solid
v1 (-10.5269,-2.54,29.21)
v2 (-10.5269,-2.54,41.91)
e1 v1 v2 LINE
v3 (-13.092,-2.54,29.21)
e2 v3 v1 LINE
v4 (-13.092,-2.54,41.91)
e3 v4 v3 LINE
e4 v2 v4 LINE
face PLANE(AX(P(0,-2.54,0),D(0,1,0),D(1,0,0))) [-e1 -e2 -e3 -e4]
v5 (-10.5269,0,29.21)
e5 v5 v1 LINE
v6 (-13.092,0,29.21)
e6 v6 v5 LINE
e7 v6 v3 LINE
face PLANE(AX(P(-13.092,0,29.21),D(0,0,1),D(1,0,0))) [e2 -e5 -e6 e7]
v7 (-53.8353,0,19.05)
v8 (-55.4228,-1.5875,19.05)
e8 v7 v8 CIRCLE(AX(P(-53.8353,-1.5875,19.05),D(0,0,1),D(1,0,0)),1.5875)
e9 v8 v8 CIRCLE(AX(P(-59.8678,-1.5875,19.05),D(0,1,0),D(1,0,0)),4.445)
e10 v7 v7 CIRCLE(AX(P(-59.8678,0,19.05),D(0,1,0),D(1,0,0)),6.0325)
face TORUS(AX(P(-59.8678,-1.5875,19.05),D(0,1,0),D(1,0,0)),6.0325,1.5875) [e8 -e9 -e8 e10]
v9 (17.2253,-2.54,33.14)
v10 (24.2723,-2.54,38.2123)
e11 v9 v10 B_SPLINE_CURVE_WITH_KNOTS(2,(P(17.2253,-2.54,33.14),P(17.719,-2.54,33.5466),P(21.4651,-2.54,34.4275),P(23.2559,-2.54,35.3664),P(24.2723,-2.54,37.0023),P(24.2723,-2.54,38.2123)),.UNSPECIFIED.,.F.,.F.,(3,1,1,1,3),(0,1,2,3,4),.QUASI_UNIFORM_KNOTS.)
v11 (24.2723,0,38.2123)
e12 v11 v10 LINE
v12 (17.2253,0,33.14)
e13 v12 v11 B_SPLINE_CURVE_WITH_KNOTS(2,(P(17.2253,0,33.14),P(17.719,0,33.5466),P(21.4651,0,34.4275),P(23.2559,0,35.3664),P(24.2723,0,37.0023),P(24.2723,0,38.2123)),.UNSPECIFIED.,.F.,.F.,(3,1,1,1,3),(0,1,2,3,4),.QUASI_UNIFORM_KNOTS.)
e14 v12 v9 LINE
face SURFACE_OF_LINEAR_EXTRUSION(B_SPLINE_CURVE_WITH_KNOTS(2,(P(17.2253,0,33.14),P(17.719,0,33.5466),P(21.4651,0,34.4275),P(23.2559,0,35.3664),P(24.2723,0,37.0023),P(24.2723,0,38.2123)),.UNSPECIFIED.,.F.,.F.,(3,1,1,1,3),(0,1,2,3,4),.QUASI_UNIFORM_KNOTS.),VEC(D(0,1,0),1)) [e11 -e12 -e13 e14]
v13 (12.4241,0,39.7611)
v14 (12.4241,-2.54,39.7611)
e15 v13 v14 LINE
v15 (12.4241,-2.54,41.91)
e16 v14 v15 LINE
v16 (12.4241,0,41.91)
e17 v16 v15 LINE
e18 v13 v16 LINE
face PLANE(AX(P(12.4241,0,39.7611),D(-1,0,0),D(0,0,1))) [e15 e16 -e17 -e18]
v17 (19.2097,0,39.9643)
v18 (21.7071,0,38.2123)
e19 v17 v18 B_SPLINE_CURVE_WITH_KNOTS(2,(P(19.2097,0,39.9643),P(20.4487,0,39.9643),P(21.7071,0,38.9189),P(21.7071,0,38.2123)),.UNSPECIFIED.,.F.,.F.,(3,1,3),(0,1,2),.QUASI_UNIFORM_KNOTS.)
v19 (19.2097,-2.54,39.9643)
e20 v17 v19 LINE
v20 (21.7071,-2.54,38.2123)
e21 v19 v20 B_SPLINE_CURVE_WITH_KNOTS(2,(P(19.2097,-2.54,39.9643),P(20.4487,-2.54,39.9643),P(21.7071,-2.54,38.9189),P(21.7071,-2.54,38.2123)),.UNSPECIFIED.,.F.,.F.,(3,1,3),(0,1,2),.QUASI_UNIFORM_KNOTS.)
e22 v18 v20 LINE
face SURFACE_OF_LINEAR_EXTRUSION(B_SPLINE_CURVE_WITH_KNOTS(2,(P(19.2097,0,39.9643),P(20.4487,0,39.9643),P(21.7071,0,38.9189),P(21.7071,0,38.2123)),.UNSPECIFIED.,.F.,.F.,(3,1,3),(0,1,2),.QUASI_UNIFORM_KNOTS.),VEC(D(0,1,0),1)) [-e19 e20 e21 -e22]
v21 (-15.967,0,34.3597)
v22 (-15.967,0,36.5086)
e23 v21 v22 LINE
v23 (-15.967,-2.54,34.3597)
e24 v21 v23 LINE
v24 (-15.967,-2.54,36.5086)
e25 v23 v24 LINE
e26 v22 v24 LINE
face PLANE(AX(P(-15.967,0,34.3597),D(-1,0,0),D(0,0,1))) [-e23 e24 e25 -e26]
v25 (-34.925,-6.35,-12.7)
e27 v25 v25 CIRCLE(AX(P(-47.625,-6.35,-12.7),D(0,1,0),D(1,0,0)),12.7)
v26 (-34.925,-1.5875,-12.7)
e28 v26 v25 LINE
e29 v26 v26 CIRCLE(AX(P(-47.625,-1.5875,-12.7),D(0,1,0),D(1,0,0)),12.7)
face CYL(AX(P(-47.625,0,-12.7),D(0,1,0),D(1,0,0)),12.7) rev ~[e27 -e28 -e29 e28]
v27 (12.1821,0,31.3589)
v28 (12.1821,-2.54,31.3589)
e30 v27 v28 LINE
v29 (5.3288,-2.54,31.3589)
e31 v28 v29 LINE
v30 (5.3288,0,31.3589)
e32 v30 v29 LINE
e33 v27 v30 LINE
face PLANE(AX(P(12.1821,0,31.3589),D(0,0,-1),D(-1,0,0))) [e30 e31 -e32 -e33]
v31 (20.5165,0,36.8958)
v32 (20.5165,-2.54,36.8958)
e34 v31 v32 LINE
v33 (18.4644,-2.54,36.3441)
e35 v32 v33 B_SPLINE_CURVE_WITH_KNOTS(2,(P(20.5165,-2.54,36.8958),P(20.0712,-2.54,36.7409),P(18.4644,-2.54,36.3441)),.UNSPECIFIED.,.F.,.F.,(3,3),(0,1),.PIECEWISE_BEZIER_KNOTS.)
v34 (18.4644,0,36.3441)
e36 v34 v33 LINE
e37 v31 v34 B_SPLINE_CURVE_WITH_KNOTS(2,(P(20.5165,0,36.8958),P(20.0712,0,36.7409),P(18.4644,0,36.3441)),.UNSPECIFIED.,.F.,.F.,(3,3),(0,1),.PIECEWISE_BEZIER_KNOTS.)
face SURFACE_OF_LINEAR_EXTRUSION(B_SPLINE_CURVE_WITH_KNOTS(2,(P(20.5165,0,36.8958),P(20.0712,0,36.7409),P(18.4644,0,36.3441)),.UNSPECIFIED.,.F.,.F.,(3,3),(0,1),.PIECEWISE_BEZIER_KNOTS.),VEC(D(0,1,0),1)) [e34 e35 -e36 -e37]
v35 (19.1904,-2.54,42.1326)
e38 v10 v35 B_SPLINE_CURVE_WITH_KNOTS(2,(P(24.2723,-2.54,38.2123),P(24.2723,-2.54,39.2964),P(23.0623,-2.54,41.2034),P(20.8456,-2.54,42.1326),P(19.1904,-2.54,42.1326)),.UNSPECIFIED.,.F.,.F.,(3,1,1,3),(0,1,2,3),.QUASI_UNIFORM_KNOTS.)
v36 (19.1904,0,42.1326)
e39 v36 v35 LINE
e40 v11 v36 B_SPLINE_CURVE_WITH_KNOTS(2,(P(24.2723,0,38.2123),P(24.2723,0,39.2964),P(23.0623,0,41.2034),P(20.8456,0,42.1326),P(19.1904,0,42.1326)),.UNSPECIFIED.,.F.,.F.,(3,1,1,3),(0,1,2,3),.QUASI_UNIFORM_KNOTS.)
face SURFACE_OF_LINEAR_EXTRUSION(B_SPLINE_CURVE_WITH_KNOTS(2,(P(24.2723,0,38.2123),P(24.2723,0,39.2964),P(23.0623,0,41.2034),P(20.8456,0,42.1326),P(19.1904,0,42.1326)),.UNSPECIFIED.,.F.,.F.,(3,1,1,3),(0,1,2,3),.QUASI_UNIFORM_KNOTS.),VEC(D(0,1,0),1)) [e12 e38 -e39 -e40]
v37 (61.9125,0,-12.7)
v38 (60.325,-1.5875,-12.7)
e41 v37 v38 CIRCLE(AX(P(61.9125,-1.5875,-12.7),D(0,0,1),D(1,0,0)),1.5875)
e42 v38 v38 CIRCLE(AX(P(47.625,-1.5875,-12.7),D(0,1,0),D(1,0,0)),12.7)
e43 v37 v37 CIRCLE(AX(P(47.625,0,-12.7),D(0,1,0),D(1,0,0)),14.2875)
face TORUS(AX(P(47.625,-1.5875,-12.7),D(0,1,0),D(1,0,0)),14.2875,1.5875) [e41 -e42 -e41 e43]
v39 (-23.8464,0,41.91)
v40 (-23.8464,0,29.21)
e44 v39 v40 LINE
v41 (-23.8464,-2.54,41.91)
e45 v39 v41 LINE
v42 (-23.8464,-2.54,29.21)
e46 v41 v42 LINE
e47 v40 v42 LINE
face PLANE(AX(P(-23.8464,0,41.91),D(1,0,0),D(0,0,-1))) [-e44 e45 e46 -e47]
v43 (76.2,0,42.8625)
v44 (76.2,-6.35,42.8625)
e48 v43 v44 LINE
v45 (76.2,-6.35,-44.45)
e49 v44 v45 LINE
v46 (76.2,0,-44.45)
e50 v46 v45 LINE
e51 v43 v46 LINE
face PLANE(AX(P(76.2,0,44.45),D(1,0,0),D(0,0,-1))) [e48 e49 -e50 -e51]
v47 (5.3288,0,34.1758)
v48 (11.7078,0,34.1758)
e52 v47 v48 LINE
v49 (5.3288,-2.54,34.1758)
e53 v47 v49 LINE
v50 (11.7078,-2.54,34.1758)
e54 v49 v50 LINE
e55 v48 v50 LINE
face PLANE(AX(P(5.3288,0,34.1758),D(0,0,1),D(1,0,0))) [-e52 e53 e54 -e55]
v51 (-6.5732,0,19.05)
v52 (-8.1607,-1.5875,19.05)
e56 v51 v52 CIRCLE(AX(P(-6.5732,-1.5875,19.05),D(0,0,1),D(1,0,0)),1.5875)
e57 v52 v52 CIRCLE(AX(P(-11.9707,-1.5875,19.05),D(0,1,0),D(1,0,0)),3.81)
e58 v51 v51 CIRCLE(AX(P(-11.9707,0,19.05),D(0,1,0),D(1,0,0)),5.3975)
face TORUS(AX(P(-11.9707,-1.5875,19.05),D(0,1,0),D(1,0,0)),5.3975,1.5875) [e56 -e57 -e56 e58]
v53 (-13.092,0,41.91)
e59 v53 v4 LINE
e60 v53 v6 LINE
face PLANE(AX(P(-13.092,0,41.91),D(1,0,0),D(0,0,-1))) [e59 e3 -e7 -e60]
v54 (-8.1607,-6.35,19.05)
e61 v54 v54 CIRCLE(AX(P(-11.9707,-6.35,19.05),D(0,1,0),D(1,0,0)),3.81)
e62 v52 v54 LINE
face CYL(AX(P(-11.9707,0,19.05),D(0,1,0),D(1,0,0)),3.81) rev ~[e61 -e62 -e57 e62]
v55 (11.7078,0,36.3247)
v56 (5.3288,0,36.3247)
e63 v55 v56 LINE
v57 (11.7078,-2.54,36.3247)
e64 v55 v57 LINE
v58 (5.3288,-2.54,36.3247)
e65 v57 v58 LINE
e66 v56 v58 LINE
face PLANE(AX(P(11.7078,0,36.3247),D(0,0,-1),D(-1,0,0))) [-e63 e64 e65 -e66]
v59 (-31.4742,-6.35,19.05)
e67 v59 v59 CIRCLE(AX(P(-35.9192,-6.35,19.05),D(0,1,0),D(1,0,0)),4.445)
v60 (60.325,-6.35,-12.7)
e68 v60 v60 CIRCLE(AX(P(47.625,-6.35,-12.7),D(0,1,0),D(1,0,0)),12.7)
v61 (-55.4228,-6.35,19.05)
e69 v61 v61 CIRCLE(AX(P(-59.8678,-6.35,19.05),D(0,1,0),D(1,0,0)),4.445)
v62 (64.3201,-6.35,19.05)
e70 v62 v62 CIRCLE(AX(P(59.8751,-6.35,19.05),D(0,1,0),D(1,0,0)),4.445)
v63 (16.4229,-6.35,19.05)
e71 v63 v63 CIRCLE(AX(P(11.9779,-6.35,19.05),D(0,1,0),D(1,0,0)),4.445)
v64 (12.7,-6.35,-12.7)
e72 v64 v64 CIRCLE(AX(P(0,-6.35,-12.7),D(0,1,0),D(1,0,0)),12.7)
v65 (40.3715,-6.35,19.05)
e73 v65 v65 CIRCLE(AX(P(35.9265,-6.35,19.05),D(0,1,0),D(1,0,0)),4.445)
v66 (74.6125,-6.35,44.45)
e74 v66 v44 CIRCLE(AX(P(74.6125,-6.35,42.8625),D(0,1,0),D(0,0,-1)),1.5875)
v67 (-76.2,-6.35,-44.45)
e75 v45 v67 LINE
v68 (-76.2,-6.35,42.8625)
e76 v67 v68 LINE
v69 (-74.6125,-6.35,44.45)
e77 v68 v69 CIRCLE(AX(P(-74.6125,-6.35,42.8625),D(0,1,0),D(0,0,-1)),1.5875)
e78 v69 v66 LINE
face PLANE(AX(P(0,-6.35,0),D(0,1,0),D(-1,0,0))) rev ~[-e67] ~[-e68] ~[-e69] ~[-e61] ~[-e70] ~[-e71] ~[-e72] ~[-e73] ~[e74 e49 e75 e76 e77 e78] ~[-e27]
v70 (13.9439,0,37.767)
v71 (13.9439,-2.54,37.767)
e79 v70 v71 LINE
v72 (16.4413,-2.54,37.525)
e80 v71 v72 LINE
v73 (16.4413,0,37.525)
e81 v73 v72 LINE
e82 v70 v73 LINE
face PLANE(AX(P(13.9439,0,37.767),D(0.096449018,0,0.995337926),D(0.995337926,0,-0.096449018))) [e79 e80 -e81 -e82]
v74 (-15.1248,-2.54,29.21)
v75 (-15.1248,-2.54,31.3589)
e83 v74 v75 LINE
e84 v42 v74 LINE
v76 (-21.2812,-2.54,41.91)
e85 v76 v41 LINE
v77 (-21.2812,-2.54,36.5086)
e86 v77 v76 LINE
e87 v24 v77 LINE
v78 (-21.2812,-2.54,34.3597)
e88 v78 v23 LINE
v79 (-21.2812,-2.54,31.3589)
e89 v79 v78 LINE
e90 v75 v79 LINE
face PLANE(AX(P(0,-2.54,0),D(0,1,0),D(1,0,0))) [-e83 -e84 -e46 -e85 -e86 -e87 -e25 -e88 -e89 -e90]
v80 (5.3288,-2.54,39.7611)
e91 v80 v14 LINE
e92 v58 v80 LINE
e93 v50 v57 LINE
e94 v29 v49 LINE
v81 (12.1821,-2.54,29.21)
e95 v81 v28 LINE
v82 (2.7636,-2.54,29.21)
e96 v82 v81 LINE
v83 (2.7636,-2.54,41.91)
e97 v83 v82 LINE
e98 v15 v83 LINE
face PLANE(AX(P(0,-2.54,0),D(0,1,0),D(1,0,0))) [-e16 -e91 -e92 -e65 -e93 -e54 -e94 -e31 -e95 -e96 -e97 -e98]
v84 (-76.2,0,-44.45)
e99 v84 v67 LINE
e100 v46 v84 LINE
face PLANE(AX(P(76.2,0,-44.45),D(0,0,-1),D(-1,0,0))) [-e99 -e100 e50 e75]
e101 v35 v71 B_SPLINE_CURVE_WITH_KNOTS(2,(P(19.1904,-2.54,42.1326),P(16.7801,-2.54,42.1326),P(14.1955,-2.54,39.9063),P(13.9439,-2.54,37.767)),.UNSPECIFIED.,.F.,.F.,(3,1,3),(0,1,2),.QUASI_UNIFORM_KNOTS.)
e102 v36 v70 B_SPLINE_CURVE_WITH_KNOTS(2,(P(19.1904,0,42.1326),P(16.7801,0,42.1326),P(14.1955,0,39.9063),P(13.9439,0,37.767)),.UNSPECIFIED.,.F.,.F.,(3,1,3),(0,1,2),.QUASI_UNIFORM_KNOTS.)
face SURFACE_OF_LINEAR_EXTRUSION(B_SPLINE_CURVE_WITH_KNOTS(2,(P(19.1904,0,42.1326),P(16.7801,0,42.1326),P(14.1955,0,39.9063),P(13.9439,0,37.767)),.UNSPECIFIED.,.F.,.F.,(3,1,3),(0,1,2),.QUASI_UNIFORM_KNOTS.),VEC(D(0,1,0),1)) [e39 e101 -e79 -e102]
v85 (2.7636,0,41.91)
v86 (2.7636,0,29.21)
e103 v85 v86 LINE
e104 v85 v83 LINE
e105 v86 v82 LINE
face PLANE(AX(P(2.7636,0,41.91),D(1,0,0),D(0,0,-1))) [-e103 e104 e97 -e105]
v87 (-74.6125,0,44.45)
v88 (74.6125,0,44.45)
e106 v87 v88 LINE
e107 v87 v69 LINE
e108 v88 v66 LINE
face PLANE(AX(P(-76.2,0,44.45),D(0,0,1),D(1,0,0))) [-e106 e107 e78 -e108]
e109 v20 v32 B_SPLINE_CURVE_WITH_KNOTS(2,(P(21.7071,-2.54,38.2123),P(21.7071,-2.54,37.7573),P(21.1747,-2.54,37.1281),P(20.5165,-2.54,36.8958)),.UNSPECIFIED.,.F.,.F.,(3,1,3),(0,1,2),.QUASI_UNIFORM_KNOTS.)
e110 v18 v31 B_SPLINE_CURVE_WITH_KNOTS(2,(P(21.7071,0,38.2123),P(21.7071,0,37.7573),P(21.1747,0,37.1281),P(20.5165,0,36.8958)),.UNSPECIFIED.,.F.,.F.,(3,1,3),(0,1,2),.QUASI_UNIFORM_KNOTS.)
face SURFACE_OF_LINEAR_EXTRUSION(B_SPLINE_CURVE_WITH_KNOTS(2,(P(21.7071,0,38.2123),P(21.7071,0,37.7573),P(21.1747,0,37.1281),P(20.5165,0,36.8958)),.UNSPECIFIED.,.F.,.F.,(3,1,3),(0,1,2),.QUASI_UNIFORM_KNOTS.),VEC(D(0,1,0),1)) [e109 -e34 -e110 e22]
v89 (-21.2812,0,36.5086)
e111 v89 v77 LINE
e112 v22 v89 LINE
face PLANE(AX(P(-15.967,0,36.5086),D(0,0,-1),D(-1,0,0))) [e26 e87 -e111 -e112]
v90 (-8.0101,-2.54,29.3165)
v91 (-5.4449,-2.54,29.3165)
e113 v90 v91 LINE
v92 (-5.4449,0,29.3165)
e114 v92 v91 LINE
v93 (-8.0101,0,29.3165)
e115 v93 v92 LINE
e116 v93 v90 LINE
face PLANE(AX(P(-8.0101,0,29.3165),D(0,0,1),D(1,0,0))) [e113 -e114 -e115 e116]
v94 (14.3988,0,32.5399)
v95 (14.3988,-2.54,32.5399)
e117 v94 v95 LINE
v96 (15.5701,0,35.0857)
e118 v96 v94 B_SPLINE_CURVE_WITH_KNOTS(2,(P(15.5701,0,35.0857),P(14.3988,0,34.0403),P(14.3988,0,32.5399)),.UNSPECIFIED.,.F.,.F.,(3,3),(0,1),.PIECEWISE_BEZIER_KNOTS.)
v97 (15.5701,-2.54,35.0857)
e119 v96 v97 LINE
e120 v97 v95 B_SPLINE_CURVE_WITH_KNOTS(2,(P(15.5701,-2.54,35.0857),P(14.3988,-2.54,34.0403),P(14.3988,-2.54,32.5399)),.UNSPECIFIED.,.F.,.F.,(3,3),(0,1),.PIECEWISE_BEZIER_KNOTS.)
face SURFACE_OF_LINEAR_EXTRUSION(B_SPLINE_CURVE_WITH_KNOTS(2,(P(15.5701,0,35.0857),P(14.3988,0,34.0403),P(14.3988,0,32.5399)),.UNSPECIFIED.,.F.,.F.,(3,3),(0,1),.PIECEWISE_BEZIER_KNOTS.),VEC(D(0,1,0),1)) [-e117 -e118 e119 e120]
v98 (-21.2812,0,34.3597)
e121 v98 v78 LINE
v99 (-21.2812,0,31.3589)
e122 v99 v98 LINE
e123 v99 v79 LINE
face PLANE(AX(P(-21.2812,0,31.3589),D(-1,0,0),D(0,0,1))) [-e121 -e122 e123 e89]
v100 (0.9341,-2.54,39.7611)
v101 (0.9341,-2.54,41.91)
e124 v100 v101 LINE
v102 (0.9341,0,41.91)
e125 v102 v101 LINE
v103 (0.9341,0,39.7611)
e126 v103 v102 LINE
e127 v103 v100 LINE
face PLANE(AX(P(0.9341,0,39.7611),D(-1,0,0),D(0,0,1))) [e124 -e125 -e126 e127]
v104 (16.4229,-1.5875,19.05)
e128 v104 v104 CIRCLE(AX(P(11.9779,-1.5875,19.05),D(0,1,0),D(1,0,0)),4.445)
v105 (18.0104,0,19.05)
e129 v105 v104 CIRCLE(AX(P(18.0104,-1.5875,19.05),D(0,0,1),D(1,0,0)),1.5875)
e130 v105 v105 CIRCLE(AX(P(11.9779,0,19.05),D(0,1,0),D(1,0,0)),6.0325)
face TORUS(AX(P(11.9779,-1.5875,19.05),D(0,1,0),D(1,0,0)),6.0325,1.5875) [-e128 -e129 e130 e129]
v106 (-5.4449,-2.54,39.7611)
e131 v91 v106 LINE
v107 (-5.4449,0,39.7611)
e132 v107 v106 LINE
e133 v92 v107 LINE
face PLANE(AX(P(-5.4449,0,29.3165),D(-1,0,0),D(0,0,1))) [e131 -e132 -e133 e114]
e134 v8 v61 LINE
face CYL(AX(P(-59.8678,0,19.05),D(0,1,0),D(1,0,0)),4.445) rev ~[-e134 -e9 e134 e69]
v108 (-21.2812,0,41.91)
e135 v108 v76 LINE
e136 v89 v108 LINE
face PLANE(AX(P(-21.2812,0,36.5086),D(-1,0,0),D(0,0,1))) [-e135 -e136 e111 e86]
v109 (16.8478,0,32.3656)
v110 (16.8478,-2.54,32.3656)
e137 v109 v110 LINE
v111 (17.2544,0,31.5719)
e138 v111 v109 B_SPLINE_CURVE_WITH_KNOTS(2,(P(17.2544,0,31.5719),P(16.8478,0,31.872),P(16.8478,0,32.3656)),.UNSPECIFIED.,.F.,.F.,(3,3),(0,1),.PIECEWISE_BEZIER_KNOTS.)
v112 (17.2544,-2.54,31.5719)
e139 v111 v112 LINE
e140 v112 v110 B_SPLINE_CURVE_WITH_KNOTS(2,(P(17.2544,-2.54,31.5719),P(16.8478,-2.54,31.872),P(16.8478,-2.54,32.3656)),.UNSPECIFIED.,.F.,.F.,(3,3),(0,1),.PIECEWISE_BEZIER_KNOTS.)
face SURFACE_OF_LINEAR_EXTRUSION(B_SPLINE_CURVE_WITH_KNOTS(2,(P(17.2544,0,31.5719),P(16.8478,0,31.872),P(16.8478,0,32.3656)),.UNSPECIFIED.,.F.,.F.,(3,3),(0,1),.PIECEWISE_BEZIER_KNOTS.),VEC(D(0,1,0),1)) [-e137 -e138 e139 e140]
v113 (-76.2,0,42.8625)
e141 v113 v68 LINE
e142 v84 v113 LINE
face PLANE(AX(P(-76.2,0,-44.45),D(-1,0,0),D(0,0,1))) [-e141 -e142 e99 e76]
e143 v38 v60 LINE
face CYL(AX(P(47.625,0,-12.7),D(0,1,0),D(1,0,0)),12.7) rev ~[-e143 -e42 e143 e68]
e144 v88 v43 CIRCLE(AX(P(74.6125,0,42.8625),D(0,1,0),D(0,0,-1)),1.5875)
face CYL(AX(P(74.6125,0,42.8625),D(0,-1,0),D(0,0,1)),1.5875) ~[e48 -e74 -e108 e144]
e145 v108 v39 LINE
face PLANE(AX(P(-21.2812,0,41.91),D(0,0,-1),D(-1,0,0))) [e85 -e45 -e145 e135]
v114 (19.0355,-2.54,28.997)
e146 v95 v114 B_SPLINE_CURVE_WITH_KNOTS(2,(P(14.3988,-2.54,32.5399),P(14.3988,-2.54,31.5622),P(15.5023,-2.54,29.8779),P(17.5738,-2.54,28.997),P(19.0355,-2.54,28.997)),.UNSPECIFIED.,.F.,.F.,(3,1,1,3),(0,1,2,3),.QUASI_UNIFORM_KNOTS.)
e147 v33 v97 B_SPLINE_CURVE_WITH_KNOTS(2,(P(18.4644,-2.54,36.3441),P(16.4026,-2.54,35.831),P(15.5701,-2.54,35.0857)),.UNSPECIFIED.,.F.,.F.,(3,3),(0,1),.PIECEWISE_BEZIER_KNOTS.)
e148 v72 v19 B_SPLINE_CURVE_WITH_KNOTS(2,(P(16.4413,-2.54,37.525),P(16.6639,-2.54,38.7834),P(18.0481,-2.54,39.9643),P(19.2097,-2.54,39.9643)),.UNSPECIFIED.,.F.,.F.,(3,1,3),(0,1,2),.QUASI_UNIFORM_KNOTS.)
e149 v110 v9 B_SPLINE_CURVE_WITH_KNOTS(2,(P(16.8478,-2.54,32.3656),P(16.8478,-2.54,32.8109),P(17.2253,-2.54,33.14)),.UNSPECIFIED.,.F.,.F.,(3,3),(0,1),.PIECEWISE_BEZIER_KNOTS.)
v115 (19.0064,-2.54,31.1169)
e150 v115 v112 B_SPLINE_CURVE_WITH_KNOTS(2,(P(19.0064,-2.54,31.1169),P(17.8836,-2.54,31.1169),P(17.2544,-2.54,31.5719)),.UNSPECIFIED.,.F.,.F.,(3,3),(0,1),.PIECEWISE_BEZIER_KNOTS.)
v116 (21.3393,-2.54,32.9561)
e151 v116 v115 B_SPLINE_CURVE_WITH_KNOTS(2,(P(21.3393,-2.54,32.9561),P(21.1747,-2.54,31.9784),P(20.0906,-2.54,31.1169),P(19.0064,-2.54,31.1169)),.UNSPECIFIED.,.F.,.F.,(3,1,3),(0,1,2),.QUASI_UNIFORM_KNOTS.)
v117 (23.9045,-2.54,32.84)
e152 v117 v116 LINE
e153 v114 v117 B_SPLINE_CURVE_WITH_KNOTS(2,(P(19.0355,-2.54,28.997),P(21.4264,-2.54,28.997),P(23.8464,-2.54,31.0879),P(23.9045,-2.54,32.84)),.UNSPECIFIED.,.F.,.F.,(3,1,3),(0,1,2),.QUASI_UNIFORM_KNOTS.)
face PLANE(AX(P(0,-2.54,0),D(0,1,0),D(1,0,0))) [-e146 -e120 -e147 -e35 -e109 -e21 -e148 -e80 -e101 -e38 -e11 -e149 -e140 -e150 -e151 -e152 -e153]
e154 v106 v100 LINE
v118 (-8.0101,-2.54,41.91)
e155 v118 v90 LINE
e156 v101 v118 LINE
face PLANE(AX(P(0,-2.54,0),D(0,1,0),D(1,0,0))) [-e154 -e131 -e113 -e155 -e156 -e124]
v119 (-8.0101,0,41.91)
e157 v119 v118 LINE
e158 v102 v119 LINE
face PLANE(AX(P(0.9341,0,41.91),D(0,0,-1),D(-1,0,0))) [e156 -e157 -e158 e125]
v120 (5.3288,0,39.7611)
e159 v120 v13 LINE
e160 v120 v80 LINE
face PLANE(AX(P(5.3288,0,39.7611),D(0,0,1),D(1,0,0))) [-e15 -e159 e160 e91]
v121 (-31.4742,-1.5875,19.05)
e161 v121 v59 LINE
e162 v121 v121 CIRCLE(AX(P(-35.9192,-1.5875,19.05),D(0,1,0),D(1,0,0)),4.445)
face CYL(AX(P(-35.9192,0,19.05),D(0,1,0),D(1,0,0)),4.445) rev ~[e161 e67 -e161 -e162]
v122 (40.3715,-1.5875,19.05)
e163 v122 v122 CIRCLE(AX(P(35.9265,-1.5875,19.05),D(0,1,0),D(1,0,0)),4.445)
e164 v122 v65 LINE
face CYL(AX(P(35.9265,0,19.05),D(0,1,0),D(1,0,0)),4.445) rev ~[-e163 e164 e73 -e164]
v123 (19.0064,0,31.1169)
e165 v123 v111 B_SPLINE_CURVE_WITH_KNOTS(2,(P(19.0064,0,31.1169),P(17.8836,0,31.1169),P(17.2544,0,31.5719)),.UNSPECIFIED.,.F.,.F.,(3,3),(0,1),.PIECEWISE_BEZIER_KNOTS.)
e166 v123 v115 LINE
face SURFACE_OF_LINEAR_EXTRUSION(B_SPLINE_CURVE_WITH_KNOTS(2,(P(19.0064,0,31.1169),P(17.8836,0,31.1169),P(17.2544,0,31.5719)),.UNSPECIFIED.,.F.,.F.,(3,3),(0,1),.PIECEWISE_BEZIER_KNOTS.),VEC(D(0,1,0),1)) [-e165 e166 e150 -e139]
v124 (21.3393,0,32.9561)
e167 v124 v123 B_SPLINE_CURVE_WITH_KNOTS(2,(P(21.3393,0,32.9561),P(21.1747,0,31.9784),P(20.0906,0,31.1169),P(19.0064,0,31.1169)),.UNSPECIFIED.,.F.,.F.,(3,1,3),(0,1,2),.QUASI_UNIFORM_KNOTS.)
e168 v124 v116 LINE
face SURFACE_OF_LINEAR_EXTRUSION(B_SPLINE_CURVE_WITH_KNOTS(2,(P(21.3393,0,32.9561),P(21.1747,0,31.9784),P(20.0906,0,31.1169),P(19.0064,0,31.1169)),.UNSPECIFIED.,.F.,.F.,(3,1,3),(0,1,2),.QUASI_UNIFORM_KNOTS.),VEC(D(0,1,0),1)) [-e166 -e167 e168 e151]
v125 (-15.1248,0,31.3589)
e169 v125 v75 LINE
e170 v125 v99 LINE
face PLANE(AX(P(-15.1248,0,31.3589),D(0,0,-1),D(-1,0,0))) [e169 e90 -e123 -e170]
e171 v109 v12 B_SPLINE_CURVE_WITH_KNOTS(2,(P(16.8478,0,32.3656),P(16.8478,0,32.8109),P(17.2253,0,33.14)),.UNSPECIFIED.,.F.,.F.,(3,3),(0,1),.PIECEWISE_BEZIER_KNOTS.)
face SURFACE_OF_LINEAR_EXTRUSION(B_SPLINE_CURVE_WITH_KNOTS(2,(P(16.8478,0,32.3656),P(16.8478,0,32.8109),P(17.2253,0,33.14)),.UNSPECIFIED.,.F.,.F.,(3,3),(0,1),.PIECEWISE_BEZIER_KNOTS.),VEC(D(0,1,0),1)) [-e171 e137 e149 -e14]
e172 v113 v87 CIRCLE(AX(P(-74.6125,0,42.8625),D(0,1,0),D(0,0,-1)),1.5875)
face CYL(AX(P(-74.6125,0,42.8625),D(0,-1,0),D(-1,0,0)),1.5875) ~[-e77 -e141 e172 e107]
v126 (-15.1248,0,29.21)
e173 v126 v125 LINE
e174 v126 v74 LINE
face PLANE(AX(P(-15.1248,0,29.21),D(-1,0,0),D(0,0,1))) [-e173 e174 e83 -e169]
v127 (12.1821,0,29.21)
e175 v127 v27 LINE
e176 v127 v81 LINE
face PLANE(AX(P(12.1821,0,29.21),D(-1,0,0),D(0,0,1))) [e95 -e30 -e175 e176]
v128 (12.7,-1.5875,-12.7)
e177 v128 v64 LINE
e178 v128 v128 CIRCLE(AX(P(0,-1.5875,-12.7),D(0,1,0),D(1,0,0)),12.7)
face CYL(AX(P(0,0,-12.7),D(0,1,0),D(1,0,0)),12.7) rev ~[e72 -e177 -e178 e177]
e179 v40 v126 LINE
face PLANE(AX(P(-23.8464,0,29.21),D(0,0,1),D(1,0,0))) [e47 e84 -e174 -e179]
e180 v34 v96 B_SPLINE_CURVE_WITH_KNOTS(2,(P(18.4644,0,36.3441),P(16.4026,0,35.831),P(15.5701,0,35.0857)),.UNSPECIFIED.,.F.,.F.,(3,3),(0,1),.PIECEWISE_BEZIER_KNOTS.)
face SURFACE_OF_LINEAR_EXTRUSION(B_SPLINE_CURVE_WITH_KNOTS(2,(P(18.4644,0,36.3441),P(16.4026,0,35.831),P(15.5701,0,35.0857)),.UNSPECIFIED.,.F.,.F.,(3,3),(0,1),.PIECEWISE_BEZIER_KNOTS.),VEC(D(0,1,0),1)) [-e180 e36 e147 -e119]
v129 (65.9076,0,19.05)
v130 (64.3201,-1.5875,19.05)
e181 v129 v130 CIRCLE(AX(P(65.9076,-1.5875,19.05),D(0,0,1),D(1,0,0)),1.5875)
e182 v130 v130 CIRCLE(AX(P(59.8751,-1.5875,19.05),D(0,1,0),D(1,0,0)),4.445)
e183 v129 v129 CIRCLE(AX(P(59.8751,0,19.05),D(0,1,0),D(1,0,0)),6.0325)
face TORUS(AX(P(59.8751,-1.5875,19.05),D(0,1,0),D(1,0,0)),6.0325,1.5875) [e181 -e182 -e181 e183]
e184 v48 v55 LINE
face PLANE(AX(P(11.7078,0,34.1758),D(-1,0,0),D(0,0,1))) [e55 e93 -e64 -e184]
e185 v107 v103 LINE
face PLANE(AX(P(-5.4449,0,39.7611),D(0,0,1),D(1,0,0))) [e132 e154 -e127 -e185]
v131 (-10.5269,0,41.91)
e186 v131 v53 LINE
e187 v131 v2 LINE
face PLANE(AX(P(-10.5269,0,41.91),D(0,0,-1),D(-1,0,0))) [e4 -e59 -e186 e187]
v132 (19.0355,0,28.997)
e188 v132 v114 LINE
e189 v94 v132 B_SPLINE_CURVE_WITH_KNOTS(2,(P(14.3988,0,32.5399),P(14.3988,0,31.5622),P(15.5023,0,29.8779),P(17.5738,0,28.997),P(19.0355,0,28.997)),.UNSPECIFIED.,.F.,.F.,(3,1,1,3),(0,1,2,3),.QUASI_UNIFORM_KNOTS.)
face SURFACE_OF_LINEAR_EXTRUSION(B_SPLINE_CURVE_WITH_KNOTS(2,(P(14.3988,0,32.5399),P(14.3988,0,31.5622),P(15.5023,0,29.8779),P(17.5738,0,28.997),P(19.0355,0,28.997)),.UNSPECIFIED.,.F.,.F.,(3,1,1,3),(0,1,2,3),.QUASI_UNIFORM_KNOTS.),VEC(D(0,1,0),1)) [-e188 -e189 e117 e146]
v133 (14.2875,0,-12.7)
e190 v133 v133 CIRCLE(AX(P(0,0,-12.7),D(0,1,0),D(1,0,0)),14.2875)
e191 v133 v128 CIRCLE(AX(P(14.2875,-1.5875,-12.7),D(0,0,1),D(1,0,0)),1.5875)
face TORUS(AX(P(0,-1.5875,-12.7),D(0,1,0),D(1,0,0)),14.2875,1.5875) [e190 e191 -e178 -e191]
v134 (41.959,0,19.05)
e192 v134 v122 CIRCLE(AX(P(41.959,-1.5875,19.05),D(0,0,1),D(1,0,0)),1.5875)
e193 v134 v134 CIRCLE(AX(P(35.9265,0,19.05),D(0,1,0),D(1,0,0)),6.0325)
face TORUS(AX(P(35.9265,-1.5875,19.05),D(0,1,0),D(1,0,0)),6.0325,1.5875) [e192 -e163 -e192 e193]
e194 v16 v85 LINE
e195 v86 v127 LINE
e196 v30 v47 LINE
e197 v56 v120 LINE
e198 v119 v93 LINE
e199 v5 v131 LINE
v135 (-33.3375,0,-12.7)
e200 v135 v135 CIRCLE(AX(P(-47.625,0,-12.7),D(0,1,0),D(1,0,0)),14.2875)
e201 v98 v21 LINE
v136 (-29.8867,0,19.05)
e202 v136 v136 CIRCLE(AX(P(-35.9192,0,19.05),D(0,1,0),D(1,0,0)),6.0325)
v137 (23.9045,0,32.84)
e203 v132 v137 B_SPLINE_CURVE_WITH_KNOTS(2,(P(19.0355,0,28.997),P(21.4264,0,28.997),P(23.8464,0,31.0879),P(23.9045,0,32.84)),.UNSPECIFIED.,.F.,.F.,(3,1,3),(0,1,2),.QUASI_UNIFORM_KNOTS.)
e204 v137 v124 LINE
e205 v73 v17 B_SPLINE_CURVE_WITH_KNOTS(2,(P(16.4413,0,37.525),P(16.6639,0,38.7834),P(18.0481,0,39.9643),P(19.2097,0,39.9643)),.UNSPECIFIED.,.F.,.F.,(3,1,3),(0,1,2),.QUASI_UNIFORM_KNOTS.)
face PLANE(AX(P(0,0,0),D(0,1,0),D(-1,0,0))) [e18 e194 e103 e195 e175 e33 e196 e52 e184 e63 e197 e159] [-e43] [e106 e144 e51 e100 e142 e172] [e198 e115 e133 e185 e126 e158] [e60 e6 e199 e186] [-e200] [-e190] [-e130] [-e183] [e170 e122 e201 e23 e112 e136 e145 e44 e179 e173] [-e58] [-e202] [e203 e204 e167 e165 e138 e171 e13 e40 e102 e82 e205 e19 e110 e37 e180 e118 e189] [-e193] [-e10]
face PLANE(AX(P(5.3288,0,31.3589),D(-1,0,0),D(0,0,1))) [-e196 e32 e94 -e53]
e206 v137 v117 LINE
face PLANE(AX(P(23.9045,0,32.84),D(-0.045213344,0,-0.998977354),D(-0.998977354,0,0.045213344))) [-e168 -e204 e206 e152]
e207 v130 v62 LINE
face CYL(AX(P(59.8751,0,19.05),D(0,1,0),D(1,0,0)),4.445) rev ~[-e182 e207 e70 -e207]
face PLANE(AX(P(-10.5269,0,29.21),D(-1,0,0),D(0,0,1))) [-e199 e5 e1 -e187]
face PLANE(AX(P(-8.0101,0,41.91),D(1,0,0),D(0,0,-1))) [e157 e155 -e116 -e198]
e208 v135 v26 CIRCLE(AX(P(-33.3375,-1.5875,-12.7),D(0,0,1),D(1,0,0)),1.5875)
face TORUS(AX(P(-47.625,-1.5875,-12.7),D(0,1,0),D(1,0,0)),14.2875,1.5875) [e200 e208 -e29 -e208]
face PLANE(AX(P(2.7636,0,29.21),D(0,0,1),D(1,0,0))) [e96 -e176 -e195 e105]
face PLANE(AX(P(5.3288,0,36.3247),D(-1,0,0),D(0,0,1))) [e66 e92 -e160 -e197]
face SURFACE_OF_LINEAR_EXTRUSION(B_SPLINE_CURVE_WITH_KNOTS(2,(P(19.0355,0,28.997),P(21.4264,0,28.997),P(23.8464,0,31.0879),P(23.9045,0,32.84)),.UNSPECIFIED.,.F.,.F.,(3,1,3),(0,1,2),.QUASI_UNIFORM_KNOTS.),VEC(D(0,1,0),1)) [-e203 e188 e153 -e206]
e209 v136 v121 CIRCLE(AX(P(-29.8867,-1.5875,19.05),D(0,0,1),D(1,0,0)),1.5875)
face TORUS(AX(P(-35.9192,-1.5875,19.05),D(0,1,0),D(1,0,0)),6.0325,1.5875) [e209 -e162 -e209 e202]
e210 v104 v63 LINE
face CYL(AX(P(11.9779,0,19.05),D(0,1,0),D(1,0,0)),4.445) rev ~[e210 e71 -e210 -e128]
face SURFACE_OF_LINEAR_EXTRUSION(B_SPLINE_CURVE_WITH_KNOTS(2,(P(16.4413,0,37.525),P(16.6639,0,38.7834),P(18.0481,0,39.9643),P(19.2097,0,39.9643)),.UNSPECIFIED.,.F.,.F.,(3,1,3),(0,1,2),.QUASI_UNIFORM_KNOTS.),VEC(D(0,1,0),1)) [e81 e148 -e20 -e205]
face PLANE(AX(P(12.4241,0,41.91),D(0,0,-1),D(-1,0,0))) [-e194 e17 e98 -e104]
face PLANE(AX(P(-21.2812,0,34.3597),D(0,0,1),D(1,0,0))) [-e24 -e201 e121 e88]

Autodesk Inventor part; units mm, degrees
ref_plane "YZ Plane" through (0, 0, 0) normal (1, 0, 0) x (0, 1, 0)
ref_plane "XZ Plane" through (0, 0, 0) normal (0, 1, 0) x (-1, 0, 0)
ref_plane "XY Plane" through (0, 0, 0) normal (0, 0, 1) x (1, 0, 0)
sketch "Sketch1" plane through (0, 0, 0) normal (0, 1, 0) x (-1, 0, 0)
  line L0 (76.2, 44.45) -> (-76.2, 44.45)
  line L1 (-76.2, 44.45) -> (-76.2, -44.45)
  line L2 (-76.2, -44.45) -> (76.2, -44.45)
  line L3 (76.2, -44.45) -> (76.2, 44.45)
  line L4 (76.2, 44.45) -> (-76.2, -44.45) construction
  line L5 (-76.2, 44.45) -> (76.2, -44.45) construction
  point P0 (0, 0)
  dimension "depth" = 88.9
  dimension "width" = 152.4
extrude "Extrusion1" add sketch "Sketch1" against normal blind 6.35
sketch "Sketch4" plane through (0, 0, 0) normal (0, 1, 0) x (1, 0, 0)
  line L0 (-76.2, -44.45) -> (-76.2, 44.45) construction
  line L1 (-76.2, -19.05) -> (76.2, -19.05) construction
  line L2 (76.2, 44.45) -> (76.2, -44.45) construction
  line L3 (-76.2, -44.45) -> (76.2, -44.45) projected
  circle A0 centre (-59.8678, -19.05) radius 4.445
  circle A1 centre (-35.9192, -19.05) radius 4.445
  circle A2 centre (-11.9707, -19.05) radius 3.81
  circle A3 centre (11.9779, -19.05) radius 4.445
  circle A4 centre (35.9265, -19.05) radius 4.445
  line L4 (-76.2, 12.7) -> (76.2, 12.7) construction
  circle A5 centre (-47.625, 12.7) radius 12.7
  circle A6 centre (0, 12.7) radius 12.7
  circle A7 centre (47.625, 12.7) radius 12.7
  circle A8 centre (59.8751, -19.05) radius 4.445
  line L5 (64.3201, -19.05) -> (64.3201, -9.3283) construction
  point P0 (0, 0)
  dimension "file6Hole" = 8.89
  dimension "d16" = 25.4
  dimension "file1Hole" = 8.89
  dimension "gap0" = 11.8872
  dimension "file2Hole" = 8.89
  dimension "gap1" = 23.9486
  dimension "file3Hole" = 7.62
  dimension "gap2" = 23.9486
  dimension "gap3" = 23.9486
  dimension "gap4" = 23.9486
  dimension "file4Hole" = 8.89
  dimension "file5Hole" = 8.89
  dimension "frontToBackRowGap" = 31.75
  dimension "file7Hole" = 25.4
  dimension "file8Hole" = 25.4
  dimension "gap7" = 47.625
  dimension "file9Hole" = 25.4
  dimension "gap8" = 47.625
  dimension "gap6" = 28.575
  dimension "d53" = 28.575
  dimension "file6Gap" = 23.9486
  dimension "d57" = 11.8799
extrude "Extrusion3" cut sketch "Sketch4" against normal through all
sketch "Sketch8" plane through (0, 0, 0) normal (0, 1, 0) x (1, 0, 0)
  line L0 (76.2, -44.45) -> (-76.2, -44.45) construction
  line L1 (-76.2, -44.45) -> (76.2, -44.45) construction
  line L2 (-23.8464, -41.91) -> (-23.8464, -29.21)
  line L3 (-23.8464, -29.21) -> (-15.1248, -29.21)
  line L4 (-15.1248, -29.21) -> (-15.1248, -31.3589)
  line L5 (-15.1248, -31.3589) -> (-21.2812, -31.3589)
  line L6 (-21.2812, -31.3589) -> (-21.2812, -34.3597)
  line L7 (-21.2812, -34.3597) -> (-15.967, -34.3597)
  line L8 (-15.967, -34.3597) -> (-15.967, -36.5086)
  line L9 (-15.967, -36.5086) -> (-21.2812, -36.5086)
  line L10 (-21.2812, -36.5086) -> (-21.2812, -41.91)
  line L11 (-21.2812, -41.91) -> (-23.8464, -41.91)
  line L12 (-13.092, -41.91) -> (-13.092, -29.21)
  line L13 (-13.092, -29.21) -> (-10.5269, -29.21)
  line L14 (-10.5269, -29.21) -> (-10.5269, -41.91)
  line L15 (-10.5269, -41.91) -> (-13.092, -41.91)
  line L16 (-8.0101, -41.91) -> (-8.0101, -29.3165)
  line L17 (-8.0101, -29.3165) -> (-5.4449, -29.3165)
  line L18 (-5.4449, -29.3165) -> (-5.4449, -39.7611)
  line L19 (-5.4449, -39.7611) -> (0.9341, -39.7611)
  line L20 (0.9341, -39.7611) -> (0.9341, -41.91)
  line L21 (0.9341, -41.91) -> (-8.0101, -41.91)
  line L22 (2.7636, -41.91) -> (2.7636, -29.21)
  line L23 (2.7636, -29.21) -> (12.1821, -29.21)
  line L24 (12.1821, -29.21) -> (12.1821, -31.3589)
  line L25 (12.1821, -31.3589) -> (5.3288, -31.3589)
  line L26 (5.3288, -31.3589) -> (5.3288, -34.1758)
  line L27 (5.3288, -34.1758) -> (11.7078, -34.1758)
  line L28 (11.7078, -34.1758) -> (11.7078, -36.3247)
  line L29 (11.7078, -36.3247) -> (5.3288, -36.3247)
  line L30 (5.3288, -36.3247) -> (5.3288, -39.7611)
  line L31 (5.3288, -39.7611) -> (12.4241, -39.7611)
  line L32 (12.4241, -39.7611) -> (12.4241, -41.91)
  line L33 (12.4241, -41.91) -> (2.7636, -41.91)
  line L34 (13.9439, -37.767) -> (16.4413, -37.525)
  spline S0 degree 2 poles (16.4413, -37.525) (16.6639, -38.7834) (18.0481, -39.9643) (19.2097, -39.9643) knots 0 0 0 1 2 2 2
  spline S1 degree 2 poles (19.2097, -39.9643) (20.4487, -39.9643) (21.7071, -38.9189) (21.7071, -38.2123) knots 0 0 0 1 2 2 2
  spline S2 degree 2 poles (21.7071, -38.2123) (21.7071, -37.7573) (21.1747, -37.1281) (20.5165, -36.8958) knots 0 0 0 1 2 2 2
  spline S3 degree 2 poles (20.5165, -36.8958) (20.0712, -36.7409) (18.4644, -36.3441) knots 0 0 0 1 1 1
  spline S4 degree 2 poles (18.4644, -36.3441) (16.4026, -35.831) (15.5701, -35.0857) knots 0 0 0 1 1 1
  spline S5 degree 2 poles (15.5701, -35.0857) (14.3988, -34.0403) (14.3988, -32.5399) knots 0 0 0 1 1 1
  spline S6 degree 2 poles (14.3988, -32.5399) (14.3988, -31.5622) (15.5023, -29.8779) (17.5738, -28.997) (19.0355, -28.997) knots 0 0 0 1 2 3 3 3
  spline S7 degree 2 poles (19.0355, -28.997) (21.4264, -28.997) (23.8464, -31.0879) (23.9045, -32.84) knots 0 0 0 1 2 2 2
  line L35 (23.9045, -32.84) -> (21.3393, -32.9561)
  spline S8 degree 2 poles (21.3393, -32.9561) (21.1747, -31.9784) (20.0906, -31.1169) (19.0064, -31.1169) knots 0 0 0 1 2 2 2
  spline S9 degree 2 poles (19.0064, -31.1169) (17.8836, -31.1169) (17.2544, -31.5719) knots 0 0 0 1 1 1
  spline S10 degree 2 poles (17.2544, -31.5719) (16.8478, -31.872) (16.8478, -32.3656) knots 0 0 0 1 1 1
  spline S11 degree 2 poles (16.8478, -32.3656) (16.8478, -32.8109) (17.2253, -33.14) knots 0 0 0 1 1 1
  spline S12 degree 2 poles (17.2253, -33.14) (17.719, -33.5466) (21.4651, -34.4275) (23.2559, -35.3664) (24.2723, -37.0023) (24.2723, -38.2123) knots 0 0 0 1 2 3 4 4 4
  spline S13 degree 2 poles (24.2723, -38.2123) (24.2723, -39.2964) (23.0623, -41.2034) (20.8456, -42.1326) (19.1904, -42.1326) knots 0 0 0 1 2 3 3 3
  spline S14 degree 2 poles (19.1904, -42.1326) (16.7801, -42.1326) (14.1955, -39.9063) (13.9439, -37.767) knots 0 0 0 1 2 2 2
  point P0 (0, 0)
extrude "Extrusion5" cut sketch "Sketch8" against normal blind 2.54
fillet "Fillet5" radius 1.5875 9 edges at (-60.325, 0, -12.7) (-12.7, 0, -12.7) (34.925, 0, -12.7) (55.4301, 0, 19.05) (31.4815, 0, 19.05) (7.5329, 0, 19.05) (-15.7807, 0, 19.05) (-40.3642, 0, 19.05) (-64.3128, 0, 19.05)
fillet "Fillet6" radius 1.5875 2 edges at (-76.2, -3.175, 44.45) (76.2, -3.175, 44.45)
equation "\"frontGapBetweenHoles\" = 8.70857"
equation "\"backGapBetweenHoles\" = 9.525"
equation "\"centerLineForFrontText\" = 8.3185"
equation "\"centerLineForBackText\" = 40.64"
equation "\"largeFileHoleDiameter\" = 25.4"
equation "\"smallFileHoleDiameter\" = 8.89"
equation "\"filesInBackRow\" = 76.2"
equation "\"filesInFrontRow\" = 177.8"
equation "\"largeFileHandleDiameter\" = 38.1"
equation "\"smallFileHandleDiameter\" = 15.24"
properties part number "plateForFileSet" material "PET Plastic"
